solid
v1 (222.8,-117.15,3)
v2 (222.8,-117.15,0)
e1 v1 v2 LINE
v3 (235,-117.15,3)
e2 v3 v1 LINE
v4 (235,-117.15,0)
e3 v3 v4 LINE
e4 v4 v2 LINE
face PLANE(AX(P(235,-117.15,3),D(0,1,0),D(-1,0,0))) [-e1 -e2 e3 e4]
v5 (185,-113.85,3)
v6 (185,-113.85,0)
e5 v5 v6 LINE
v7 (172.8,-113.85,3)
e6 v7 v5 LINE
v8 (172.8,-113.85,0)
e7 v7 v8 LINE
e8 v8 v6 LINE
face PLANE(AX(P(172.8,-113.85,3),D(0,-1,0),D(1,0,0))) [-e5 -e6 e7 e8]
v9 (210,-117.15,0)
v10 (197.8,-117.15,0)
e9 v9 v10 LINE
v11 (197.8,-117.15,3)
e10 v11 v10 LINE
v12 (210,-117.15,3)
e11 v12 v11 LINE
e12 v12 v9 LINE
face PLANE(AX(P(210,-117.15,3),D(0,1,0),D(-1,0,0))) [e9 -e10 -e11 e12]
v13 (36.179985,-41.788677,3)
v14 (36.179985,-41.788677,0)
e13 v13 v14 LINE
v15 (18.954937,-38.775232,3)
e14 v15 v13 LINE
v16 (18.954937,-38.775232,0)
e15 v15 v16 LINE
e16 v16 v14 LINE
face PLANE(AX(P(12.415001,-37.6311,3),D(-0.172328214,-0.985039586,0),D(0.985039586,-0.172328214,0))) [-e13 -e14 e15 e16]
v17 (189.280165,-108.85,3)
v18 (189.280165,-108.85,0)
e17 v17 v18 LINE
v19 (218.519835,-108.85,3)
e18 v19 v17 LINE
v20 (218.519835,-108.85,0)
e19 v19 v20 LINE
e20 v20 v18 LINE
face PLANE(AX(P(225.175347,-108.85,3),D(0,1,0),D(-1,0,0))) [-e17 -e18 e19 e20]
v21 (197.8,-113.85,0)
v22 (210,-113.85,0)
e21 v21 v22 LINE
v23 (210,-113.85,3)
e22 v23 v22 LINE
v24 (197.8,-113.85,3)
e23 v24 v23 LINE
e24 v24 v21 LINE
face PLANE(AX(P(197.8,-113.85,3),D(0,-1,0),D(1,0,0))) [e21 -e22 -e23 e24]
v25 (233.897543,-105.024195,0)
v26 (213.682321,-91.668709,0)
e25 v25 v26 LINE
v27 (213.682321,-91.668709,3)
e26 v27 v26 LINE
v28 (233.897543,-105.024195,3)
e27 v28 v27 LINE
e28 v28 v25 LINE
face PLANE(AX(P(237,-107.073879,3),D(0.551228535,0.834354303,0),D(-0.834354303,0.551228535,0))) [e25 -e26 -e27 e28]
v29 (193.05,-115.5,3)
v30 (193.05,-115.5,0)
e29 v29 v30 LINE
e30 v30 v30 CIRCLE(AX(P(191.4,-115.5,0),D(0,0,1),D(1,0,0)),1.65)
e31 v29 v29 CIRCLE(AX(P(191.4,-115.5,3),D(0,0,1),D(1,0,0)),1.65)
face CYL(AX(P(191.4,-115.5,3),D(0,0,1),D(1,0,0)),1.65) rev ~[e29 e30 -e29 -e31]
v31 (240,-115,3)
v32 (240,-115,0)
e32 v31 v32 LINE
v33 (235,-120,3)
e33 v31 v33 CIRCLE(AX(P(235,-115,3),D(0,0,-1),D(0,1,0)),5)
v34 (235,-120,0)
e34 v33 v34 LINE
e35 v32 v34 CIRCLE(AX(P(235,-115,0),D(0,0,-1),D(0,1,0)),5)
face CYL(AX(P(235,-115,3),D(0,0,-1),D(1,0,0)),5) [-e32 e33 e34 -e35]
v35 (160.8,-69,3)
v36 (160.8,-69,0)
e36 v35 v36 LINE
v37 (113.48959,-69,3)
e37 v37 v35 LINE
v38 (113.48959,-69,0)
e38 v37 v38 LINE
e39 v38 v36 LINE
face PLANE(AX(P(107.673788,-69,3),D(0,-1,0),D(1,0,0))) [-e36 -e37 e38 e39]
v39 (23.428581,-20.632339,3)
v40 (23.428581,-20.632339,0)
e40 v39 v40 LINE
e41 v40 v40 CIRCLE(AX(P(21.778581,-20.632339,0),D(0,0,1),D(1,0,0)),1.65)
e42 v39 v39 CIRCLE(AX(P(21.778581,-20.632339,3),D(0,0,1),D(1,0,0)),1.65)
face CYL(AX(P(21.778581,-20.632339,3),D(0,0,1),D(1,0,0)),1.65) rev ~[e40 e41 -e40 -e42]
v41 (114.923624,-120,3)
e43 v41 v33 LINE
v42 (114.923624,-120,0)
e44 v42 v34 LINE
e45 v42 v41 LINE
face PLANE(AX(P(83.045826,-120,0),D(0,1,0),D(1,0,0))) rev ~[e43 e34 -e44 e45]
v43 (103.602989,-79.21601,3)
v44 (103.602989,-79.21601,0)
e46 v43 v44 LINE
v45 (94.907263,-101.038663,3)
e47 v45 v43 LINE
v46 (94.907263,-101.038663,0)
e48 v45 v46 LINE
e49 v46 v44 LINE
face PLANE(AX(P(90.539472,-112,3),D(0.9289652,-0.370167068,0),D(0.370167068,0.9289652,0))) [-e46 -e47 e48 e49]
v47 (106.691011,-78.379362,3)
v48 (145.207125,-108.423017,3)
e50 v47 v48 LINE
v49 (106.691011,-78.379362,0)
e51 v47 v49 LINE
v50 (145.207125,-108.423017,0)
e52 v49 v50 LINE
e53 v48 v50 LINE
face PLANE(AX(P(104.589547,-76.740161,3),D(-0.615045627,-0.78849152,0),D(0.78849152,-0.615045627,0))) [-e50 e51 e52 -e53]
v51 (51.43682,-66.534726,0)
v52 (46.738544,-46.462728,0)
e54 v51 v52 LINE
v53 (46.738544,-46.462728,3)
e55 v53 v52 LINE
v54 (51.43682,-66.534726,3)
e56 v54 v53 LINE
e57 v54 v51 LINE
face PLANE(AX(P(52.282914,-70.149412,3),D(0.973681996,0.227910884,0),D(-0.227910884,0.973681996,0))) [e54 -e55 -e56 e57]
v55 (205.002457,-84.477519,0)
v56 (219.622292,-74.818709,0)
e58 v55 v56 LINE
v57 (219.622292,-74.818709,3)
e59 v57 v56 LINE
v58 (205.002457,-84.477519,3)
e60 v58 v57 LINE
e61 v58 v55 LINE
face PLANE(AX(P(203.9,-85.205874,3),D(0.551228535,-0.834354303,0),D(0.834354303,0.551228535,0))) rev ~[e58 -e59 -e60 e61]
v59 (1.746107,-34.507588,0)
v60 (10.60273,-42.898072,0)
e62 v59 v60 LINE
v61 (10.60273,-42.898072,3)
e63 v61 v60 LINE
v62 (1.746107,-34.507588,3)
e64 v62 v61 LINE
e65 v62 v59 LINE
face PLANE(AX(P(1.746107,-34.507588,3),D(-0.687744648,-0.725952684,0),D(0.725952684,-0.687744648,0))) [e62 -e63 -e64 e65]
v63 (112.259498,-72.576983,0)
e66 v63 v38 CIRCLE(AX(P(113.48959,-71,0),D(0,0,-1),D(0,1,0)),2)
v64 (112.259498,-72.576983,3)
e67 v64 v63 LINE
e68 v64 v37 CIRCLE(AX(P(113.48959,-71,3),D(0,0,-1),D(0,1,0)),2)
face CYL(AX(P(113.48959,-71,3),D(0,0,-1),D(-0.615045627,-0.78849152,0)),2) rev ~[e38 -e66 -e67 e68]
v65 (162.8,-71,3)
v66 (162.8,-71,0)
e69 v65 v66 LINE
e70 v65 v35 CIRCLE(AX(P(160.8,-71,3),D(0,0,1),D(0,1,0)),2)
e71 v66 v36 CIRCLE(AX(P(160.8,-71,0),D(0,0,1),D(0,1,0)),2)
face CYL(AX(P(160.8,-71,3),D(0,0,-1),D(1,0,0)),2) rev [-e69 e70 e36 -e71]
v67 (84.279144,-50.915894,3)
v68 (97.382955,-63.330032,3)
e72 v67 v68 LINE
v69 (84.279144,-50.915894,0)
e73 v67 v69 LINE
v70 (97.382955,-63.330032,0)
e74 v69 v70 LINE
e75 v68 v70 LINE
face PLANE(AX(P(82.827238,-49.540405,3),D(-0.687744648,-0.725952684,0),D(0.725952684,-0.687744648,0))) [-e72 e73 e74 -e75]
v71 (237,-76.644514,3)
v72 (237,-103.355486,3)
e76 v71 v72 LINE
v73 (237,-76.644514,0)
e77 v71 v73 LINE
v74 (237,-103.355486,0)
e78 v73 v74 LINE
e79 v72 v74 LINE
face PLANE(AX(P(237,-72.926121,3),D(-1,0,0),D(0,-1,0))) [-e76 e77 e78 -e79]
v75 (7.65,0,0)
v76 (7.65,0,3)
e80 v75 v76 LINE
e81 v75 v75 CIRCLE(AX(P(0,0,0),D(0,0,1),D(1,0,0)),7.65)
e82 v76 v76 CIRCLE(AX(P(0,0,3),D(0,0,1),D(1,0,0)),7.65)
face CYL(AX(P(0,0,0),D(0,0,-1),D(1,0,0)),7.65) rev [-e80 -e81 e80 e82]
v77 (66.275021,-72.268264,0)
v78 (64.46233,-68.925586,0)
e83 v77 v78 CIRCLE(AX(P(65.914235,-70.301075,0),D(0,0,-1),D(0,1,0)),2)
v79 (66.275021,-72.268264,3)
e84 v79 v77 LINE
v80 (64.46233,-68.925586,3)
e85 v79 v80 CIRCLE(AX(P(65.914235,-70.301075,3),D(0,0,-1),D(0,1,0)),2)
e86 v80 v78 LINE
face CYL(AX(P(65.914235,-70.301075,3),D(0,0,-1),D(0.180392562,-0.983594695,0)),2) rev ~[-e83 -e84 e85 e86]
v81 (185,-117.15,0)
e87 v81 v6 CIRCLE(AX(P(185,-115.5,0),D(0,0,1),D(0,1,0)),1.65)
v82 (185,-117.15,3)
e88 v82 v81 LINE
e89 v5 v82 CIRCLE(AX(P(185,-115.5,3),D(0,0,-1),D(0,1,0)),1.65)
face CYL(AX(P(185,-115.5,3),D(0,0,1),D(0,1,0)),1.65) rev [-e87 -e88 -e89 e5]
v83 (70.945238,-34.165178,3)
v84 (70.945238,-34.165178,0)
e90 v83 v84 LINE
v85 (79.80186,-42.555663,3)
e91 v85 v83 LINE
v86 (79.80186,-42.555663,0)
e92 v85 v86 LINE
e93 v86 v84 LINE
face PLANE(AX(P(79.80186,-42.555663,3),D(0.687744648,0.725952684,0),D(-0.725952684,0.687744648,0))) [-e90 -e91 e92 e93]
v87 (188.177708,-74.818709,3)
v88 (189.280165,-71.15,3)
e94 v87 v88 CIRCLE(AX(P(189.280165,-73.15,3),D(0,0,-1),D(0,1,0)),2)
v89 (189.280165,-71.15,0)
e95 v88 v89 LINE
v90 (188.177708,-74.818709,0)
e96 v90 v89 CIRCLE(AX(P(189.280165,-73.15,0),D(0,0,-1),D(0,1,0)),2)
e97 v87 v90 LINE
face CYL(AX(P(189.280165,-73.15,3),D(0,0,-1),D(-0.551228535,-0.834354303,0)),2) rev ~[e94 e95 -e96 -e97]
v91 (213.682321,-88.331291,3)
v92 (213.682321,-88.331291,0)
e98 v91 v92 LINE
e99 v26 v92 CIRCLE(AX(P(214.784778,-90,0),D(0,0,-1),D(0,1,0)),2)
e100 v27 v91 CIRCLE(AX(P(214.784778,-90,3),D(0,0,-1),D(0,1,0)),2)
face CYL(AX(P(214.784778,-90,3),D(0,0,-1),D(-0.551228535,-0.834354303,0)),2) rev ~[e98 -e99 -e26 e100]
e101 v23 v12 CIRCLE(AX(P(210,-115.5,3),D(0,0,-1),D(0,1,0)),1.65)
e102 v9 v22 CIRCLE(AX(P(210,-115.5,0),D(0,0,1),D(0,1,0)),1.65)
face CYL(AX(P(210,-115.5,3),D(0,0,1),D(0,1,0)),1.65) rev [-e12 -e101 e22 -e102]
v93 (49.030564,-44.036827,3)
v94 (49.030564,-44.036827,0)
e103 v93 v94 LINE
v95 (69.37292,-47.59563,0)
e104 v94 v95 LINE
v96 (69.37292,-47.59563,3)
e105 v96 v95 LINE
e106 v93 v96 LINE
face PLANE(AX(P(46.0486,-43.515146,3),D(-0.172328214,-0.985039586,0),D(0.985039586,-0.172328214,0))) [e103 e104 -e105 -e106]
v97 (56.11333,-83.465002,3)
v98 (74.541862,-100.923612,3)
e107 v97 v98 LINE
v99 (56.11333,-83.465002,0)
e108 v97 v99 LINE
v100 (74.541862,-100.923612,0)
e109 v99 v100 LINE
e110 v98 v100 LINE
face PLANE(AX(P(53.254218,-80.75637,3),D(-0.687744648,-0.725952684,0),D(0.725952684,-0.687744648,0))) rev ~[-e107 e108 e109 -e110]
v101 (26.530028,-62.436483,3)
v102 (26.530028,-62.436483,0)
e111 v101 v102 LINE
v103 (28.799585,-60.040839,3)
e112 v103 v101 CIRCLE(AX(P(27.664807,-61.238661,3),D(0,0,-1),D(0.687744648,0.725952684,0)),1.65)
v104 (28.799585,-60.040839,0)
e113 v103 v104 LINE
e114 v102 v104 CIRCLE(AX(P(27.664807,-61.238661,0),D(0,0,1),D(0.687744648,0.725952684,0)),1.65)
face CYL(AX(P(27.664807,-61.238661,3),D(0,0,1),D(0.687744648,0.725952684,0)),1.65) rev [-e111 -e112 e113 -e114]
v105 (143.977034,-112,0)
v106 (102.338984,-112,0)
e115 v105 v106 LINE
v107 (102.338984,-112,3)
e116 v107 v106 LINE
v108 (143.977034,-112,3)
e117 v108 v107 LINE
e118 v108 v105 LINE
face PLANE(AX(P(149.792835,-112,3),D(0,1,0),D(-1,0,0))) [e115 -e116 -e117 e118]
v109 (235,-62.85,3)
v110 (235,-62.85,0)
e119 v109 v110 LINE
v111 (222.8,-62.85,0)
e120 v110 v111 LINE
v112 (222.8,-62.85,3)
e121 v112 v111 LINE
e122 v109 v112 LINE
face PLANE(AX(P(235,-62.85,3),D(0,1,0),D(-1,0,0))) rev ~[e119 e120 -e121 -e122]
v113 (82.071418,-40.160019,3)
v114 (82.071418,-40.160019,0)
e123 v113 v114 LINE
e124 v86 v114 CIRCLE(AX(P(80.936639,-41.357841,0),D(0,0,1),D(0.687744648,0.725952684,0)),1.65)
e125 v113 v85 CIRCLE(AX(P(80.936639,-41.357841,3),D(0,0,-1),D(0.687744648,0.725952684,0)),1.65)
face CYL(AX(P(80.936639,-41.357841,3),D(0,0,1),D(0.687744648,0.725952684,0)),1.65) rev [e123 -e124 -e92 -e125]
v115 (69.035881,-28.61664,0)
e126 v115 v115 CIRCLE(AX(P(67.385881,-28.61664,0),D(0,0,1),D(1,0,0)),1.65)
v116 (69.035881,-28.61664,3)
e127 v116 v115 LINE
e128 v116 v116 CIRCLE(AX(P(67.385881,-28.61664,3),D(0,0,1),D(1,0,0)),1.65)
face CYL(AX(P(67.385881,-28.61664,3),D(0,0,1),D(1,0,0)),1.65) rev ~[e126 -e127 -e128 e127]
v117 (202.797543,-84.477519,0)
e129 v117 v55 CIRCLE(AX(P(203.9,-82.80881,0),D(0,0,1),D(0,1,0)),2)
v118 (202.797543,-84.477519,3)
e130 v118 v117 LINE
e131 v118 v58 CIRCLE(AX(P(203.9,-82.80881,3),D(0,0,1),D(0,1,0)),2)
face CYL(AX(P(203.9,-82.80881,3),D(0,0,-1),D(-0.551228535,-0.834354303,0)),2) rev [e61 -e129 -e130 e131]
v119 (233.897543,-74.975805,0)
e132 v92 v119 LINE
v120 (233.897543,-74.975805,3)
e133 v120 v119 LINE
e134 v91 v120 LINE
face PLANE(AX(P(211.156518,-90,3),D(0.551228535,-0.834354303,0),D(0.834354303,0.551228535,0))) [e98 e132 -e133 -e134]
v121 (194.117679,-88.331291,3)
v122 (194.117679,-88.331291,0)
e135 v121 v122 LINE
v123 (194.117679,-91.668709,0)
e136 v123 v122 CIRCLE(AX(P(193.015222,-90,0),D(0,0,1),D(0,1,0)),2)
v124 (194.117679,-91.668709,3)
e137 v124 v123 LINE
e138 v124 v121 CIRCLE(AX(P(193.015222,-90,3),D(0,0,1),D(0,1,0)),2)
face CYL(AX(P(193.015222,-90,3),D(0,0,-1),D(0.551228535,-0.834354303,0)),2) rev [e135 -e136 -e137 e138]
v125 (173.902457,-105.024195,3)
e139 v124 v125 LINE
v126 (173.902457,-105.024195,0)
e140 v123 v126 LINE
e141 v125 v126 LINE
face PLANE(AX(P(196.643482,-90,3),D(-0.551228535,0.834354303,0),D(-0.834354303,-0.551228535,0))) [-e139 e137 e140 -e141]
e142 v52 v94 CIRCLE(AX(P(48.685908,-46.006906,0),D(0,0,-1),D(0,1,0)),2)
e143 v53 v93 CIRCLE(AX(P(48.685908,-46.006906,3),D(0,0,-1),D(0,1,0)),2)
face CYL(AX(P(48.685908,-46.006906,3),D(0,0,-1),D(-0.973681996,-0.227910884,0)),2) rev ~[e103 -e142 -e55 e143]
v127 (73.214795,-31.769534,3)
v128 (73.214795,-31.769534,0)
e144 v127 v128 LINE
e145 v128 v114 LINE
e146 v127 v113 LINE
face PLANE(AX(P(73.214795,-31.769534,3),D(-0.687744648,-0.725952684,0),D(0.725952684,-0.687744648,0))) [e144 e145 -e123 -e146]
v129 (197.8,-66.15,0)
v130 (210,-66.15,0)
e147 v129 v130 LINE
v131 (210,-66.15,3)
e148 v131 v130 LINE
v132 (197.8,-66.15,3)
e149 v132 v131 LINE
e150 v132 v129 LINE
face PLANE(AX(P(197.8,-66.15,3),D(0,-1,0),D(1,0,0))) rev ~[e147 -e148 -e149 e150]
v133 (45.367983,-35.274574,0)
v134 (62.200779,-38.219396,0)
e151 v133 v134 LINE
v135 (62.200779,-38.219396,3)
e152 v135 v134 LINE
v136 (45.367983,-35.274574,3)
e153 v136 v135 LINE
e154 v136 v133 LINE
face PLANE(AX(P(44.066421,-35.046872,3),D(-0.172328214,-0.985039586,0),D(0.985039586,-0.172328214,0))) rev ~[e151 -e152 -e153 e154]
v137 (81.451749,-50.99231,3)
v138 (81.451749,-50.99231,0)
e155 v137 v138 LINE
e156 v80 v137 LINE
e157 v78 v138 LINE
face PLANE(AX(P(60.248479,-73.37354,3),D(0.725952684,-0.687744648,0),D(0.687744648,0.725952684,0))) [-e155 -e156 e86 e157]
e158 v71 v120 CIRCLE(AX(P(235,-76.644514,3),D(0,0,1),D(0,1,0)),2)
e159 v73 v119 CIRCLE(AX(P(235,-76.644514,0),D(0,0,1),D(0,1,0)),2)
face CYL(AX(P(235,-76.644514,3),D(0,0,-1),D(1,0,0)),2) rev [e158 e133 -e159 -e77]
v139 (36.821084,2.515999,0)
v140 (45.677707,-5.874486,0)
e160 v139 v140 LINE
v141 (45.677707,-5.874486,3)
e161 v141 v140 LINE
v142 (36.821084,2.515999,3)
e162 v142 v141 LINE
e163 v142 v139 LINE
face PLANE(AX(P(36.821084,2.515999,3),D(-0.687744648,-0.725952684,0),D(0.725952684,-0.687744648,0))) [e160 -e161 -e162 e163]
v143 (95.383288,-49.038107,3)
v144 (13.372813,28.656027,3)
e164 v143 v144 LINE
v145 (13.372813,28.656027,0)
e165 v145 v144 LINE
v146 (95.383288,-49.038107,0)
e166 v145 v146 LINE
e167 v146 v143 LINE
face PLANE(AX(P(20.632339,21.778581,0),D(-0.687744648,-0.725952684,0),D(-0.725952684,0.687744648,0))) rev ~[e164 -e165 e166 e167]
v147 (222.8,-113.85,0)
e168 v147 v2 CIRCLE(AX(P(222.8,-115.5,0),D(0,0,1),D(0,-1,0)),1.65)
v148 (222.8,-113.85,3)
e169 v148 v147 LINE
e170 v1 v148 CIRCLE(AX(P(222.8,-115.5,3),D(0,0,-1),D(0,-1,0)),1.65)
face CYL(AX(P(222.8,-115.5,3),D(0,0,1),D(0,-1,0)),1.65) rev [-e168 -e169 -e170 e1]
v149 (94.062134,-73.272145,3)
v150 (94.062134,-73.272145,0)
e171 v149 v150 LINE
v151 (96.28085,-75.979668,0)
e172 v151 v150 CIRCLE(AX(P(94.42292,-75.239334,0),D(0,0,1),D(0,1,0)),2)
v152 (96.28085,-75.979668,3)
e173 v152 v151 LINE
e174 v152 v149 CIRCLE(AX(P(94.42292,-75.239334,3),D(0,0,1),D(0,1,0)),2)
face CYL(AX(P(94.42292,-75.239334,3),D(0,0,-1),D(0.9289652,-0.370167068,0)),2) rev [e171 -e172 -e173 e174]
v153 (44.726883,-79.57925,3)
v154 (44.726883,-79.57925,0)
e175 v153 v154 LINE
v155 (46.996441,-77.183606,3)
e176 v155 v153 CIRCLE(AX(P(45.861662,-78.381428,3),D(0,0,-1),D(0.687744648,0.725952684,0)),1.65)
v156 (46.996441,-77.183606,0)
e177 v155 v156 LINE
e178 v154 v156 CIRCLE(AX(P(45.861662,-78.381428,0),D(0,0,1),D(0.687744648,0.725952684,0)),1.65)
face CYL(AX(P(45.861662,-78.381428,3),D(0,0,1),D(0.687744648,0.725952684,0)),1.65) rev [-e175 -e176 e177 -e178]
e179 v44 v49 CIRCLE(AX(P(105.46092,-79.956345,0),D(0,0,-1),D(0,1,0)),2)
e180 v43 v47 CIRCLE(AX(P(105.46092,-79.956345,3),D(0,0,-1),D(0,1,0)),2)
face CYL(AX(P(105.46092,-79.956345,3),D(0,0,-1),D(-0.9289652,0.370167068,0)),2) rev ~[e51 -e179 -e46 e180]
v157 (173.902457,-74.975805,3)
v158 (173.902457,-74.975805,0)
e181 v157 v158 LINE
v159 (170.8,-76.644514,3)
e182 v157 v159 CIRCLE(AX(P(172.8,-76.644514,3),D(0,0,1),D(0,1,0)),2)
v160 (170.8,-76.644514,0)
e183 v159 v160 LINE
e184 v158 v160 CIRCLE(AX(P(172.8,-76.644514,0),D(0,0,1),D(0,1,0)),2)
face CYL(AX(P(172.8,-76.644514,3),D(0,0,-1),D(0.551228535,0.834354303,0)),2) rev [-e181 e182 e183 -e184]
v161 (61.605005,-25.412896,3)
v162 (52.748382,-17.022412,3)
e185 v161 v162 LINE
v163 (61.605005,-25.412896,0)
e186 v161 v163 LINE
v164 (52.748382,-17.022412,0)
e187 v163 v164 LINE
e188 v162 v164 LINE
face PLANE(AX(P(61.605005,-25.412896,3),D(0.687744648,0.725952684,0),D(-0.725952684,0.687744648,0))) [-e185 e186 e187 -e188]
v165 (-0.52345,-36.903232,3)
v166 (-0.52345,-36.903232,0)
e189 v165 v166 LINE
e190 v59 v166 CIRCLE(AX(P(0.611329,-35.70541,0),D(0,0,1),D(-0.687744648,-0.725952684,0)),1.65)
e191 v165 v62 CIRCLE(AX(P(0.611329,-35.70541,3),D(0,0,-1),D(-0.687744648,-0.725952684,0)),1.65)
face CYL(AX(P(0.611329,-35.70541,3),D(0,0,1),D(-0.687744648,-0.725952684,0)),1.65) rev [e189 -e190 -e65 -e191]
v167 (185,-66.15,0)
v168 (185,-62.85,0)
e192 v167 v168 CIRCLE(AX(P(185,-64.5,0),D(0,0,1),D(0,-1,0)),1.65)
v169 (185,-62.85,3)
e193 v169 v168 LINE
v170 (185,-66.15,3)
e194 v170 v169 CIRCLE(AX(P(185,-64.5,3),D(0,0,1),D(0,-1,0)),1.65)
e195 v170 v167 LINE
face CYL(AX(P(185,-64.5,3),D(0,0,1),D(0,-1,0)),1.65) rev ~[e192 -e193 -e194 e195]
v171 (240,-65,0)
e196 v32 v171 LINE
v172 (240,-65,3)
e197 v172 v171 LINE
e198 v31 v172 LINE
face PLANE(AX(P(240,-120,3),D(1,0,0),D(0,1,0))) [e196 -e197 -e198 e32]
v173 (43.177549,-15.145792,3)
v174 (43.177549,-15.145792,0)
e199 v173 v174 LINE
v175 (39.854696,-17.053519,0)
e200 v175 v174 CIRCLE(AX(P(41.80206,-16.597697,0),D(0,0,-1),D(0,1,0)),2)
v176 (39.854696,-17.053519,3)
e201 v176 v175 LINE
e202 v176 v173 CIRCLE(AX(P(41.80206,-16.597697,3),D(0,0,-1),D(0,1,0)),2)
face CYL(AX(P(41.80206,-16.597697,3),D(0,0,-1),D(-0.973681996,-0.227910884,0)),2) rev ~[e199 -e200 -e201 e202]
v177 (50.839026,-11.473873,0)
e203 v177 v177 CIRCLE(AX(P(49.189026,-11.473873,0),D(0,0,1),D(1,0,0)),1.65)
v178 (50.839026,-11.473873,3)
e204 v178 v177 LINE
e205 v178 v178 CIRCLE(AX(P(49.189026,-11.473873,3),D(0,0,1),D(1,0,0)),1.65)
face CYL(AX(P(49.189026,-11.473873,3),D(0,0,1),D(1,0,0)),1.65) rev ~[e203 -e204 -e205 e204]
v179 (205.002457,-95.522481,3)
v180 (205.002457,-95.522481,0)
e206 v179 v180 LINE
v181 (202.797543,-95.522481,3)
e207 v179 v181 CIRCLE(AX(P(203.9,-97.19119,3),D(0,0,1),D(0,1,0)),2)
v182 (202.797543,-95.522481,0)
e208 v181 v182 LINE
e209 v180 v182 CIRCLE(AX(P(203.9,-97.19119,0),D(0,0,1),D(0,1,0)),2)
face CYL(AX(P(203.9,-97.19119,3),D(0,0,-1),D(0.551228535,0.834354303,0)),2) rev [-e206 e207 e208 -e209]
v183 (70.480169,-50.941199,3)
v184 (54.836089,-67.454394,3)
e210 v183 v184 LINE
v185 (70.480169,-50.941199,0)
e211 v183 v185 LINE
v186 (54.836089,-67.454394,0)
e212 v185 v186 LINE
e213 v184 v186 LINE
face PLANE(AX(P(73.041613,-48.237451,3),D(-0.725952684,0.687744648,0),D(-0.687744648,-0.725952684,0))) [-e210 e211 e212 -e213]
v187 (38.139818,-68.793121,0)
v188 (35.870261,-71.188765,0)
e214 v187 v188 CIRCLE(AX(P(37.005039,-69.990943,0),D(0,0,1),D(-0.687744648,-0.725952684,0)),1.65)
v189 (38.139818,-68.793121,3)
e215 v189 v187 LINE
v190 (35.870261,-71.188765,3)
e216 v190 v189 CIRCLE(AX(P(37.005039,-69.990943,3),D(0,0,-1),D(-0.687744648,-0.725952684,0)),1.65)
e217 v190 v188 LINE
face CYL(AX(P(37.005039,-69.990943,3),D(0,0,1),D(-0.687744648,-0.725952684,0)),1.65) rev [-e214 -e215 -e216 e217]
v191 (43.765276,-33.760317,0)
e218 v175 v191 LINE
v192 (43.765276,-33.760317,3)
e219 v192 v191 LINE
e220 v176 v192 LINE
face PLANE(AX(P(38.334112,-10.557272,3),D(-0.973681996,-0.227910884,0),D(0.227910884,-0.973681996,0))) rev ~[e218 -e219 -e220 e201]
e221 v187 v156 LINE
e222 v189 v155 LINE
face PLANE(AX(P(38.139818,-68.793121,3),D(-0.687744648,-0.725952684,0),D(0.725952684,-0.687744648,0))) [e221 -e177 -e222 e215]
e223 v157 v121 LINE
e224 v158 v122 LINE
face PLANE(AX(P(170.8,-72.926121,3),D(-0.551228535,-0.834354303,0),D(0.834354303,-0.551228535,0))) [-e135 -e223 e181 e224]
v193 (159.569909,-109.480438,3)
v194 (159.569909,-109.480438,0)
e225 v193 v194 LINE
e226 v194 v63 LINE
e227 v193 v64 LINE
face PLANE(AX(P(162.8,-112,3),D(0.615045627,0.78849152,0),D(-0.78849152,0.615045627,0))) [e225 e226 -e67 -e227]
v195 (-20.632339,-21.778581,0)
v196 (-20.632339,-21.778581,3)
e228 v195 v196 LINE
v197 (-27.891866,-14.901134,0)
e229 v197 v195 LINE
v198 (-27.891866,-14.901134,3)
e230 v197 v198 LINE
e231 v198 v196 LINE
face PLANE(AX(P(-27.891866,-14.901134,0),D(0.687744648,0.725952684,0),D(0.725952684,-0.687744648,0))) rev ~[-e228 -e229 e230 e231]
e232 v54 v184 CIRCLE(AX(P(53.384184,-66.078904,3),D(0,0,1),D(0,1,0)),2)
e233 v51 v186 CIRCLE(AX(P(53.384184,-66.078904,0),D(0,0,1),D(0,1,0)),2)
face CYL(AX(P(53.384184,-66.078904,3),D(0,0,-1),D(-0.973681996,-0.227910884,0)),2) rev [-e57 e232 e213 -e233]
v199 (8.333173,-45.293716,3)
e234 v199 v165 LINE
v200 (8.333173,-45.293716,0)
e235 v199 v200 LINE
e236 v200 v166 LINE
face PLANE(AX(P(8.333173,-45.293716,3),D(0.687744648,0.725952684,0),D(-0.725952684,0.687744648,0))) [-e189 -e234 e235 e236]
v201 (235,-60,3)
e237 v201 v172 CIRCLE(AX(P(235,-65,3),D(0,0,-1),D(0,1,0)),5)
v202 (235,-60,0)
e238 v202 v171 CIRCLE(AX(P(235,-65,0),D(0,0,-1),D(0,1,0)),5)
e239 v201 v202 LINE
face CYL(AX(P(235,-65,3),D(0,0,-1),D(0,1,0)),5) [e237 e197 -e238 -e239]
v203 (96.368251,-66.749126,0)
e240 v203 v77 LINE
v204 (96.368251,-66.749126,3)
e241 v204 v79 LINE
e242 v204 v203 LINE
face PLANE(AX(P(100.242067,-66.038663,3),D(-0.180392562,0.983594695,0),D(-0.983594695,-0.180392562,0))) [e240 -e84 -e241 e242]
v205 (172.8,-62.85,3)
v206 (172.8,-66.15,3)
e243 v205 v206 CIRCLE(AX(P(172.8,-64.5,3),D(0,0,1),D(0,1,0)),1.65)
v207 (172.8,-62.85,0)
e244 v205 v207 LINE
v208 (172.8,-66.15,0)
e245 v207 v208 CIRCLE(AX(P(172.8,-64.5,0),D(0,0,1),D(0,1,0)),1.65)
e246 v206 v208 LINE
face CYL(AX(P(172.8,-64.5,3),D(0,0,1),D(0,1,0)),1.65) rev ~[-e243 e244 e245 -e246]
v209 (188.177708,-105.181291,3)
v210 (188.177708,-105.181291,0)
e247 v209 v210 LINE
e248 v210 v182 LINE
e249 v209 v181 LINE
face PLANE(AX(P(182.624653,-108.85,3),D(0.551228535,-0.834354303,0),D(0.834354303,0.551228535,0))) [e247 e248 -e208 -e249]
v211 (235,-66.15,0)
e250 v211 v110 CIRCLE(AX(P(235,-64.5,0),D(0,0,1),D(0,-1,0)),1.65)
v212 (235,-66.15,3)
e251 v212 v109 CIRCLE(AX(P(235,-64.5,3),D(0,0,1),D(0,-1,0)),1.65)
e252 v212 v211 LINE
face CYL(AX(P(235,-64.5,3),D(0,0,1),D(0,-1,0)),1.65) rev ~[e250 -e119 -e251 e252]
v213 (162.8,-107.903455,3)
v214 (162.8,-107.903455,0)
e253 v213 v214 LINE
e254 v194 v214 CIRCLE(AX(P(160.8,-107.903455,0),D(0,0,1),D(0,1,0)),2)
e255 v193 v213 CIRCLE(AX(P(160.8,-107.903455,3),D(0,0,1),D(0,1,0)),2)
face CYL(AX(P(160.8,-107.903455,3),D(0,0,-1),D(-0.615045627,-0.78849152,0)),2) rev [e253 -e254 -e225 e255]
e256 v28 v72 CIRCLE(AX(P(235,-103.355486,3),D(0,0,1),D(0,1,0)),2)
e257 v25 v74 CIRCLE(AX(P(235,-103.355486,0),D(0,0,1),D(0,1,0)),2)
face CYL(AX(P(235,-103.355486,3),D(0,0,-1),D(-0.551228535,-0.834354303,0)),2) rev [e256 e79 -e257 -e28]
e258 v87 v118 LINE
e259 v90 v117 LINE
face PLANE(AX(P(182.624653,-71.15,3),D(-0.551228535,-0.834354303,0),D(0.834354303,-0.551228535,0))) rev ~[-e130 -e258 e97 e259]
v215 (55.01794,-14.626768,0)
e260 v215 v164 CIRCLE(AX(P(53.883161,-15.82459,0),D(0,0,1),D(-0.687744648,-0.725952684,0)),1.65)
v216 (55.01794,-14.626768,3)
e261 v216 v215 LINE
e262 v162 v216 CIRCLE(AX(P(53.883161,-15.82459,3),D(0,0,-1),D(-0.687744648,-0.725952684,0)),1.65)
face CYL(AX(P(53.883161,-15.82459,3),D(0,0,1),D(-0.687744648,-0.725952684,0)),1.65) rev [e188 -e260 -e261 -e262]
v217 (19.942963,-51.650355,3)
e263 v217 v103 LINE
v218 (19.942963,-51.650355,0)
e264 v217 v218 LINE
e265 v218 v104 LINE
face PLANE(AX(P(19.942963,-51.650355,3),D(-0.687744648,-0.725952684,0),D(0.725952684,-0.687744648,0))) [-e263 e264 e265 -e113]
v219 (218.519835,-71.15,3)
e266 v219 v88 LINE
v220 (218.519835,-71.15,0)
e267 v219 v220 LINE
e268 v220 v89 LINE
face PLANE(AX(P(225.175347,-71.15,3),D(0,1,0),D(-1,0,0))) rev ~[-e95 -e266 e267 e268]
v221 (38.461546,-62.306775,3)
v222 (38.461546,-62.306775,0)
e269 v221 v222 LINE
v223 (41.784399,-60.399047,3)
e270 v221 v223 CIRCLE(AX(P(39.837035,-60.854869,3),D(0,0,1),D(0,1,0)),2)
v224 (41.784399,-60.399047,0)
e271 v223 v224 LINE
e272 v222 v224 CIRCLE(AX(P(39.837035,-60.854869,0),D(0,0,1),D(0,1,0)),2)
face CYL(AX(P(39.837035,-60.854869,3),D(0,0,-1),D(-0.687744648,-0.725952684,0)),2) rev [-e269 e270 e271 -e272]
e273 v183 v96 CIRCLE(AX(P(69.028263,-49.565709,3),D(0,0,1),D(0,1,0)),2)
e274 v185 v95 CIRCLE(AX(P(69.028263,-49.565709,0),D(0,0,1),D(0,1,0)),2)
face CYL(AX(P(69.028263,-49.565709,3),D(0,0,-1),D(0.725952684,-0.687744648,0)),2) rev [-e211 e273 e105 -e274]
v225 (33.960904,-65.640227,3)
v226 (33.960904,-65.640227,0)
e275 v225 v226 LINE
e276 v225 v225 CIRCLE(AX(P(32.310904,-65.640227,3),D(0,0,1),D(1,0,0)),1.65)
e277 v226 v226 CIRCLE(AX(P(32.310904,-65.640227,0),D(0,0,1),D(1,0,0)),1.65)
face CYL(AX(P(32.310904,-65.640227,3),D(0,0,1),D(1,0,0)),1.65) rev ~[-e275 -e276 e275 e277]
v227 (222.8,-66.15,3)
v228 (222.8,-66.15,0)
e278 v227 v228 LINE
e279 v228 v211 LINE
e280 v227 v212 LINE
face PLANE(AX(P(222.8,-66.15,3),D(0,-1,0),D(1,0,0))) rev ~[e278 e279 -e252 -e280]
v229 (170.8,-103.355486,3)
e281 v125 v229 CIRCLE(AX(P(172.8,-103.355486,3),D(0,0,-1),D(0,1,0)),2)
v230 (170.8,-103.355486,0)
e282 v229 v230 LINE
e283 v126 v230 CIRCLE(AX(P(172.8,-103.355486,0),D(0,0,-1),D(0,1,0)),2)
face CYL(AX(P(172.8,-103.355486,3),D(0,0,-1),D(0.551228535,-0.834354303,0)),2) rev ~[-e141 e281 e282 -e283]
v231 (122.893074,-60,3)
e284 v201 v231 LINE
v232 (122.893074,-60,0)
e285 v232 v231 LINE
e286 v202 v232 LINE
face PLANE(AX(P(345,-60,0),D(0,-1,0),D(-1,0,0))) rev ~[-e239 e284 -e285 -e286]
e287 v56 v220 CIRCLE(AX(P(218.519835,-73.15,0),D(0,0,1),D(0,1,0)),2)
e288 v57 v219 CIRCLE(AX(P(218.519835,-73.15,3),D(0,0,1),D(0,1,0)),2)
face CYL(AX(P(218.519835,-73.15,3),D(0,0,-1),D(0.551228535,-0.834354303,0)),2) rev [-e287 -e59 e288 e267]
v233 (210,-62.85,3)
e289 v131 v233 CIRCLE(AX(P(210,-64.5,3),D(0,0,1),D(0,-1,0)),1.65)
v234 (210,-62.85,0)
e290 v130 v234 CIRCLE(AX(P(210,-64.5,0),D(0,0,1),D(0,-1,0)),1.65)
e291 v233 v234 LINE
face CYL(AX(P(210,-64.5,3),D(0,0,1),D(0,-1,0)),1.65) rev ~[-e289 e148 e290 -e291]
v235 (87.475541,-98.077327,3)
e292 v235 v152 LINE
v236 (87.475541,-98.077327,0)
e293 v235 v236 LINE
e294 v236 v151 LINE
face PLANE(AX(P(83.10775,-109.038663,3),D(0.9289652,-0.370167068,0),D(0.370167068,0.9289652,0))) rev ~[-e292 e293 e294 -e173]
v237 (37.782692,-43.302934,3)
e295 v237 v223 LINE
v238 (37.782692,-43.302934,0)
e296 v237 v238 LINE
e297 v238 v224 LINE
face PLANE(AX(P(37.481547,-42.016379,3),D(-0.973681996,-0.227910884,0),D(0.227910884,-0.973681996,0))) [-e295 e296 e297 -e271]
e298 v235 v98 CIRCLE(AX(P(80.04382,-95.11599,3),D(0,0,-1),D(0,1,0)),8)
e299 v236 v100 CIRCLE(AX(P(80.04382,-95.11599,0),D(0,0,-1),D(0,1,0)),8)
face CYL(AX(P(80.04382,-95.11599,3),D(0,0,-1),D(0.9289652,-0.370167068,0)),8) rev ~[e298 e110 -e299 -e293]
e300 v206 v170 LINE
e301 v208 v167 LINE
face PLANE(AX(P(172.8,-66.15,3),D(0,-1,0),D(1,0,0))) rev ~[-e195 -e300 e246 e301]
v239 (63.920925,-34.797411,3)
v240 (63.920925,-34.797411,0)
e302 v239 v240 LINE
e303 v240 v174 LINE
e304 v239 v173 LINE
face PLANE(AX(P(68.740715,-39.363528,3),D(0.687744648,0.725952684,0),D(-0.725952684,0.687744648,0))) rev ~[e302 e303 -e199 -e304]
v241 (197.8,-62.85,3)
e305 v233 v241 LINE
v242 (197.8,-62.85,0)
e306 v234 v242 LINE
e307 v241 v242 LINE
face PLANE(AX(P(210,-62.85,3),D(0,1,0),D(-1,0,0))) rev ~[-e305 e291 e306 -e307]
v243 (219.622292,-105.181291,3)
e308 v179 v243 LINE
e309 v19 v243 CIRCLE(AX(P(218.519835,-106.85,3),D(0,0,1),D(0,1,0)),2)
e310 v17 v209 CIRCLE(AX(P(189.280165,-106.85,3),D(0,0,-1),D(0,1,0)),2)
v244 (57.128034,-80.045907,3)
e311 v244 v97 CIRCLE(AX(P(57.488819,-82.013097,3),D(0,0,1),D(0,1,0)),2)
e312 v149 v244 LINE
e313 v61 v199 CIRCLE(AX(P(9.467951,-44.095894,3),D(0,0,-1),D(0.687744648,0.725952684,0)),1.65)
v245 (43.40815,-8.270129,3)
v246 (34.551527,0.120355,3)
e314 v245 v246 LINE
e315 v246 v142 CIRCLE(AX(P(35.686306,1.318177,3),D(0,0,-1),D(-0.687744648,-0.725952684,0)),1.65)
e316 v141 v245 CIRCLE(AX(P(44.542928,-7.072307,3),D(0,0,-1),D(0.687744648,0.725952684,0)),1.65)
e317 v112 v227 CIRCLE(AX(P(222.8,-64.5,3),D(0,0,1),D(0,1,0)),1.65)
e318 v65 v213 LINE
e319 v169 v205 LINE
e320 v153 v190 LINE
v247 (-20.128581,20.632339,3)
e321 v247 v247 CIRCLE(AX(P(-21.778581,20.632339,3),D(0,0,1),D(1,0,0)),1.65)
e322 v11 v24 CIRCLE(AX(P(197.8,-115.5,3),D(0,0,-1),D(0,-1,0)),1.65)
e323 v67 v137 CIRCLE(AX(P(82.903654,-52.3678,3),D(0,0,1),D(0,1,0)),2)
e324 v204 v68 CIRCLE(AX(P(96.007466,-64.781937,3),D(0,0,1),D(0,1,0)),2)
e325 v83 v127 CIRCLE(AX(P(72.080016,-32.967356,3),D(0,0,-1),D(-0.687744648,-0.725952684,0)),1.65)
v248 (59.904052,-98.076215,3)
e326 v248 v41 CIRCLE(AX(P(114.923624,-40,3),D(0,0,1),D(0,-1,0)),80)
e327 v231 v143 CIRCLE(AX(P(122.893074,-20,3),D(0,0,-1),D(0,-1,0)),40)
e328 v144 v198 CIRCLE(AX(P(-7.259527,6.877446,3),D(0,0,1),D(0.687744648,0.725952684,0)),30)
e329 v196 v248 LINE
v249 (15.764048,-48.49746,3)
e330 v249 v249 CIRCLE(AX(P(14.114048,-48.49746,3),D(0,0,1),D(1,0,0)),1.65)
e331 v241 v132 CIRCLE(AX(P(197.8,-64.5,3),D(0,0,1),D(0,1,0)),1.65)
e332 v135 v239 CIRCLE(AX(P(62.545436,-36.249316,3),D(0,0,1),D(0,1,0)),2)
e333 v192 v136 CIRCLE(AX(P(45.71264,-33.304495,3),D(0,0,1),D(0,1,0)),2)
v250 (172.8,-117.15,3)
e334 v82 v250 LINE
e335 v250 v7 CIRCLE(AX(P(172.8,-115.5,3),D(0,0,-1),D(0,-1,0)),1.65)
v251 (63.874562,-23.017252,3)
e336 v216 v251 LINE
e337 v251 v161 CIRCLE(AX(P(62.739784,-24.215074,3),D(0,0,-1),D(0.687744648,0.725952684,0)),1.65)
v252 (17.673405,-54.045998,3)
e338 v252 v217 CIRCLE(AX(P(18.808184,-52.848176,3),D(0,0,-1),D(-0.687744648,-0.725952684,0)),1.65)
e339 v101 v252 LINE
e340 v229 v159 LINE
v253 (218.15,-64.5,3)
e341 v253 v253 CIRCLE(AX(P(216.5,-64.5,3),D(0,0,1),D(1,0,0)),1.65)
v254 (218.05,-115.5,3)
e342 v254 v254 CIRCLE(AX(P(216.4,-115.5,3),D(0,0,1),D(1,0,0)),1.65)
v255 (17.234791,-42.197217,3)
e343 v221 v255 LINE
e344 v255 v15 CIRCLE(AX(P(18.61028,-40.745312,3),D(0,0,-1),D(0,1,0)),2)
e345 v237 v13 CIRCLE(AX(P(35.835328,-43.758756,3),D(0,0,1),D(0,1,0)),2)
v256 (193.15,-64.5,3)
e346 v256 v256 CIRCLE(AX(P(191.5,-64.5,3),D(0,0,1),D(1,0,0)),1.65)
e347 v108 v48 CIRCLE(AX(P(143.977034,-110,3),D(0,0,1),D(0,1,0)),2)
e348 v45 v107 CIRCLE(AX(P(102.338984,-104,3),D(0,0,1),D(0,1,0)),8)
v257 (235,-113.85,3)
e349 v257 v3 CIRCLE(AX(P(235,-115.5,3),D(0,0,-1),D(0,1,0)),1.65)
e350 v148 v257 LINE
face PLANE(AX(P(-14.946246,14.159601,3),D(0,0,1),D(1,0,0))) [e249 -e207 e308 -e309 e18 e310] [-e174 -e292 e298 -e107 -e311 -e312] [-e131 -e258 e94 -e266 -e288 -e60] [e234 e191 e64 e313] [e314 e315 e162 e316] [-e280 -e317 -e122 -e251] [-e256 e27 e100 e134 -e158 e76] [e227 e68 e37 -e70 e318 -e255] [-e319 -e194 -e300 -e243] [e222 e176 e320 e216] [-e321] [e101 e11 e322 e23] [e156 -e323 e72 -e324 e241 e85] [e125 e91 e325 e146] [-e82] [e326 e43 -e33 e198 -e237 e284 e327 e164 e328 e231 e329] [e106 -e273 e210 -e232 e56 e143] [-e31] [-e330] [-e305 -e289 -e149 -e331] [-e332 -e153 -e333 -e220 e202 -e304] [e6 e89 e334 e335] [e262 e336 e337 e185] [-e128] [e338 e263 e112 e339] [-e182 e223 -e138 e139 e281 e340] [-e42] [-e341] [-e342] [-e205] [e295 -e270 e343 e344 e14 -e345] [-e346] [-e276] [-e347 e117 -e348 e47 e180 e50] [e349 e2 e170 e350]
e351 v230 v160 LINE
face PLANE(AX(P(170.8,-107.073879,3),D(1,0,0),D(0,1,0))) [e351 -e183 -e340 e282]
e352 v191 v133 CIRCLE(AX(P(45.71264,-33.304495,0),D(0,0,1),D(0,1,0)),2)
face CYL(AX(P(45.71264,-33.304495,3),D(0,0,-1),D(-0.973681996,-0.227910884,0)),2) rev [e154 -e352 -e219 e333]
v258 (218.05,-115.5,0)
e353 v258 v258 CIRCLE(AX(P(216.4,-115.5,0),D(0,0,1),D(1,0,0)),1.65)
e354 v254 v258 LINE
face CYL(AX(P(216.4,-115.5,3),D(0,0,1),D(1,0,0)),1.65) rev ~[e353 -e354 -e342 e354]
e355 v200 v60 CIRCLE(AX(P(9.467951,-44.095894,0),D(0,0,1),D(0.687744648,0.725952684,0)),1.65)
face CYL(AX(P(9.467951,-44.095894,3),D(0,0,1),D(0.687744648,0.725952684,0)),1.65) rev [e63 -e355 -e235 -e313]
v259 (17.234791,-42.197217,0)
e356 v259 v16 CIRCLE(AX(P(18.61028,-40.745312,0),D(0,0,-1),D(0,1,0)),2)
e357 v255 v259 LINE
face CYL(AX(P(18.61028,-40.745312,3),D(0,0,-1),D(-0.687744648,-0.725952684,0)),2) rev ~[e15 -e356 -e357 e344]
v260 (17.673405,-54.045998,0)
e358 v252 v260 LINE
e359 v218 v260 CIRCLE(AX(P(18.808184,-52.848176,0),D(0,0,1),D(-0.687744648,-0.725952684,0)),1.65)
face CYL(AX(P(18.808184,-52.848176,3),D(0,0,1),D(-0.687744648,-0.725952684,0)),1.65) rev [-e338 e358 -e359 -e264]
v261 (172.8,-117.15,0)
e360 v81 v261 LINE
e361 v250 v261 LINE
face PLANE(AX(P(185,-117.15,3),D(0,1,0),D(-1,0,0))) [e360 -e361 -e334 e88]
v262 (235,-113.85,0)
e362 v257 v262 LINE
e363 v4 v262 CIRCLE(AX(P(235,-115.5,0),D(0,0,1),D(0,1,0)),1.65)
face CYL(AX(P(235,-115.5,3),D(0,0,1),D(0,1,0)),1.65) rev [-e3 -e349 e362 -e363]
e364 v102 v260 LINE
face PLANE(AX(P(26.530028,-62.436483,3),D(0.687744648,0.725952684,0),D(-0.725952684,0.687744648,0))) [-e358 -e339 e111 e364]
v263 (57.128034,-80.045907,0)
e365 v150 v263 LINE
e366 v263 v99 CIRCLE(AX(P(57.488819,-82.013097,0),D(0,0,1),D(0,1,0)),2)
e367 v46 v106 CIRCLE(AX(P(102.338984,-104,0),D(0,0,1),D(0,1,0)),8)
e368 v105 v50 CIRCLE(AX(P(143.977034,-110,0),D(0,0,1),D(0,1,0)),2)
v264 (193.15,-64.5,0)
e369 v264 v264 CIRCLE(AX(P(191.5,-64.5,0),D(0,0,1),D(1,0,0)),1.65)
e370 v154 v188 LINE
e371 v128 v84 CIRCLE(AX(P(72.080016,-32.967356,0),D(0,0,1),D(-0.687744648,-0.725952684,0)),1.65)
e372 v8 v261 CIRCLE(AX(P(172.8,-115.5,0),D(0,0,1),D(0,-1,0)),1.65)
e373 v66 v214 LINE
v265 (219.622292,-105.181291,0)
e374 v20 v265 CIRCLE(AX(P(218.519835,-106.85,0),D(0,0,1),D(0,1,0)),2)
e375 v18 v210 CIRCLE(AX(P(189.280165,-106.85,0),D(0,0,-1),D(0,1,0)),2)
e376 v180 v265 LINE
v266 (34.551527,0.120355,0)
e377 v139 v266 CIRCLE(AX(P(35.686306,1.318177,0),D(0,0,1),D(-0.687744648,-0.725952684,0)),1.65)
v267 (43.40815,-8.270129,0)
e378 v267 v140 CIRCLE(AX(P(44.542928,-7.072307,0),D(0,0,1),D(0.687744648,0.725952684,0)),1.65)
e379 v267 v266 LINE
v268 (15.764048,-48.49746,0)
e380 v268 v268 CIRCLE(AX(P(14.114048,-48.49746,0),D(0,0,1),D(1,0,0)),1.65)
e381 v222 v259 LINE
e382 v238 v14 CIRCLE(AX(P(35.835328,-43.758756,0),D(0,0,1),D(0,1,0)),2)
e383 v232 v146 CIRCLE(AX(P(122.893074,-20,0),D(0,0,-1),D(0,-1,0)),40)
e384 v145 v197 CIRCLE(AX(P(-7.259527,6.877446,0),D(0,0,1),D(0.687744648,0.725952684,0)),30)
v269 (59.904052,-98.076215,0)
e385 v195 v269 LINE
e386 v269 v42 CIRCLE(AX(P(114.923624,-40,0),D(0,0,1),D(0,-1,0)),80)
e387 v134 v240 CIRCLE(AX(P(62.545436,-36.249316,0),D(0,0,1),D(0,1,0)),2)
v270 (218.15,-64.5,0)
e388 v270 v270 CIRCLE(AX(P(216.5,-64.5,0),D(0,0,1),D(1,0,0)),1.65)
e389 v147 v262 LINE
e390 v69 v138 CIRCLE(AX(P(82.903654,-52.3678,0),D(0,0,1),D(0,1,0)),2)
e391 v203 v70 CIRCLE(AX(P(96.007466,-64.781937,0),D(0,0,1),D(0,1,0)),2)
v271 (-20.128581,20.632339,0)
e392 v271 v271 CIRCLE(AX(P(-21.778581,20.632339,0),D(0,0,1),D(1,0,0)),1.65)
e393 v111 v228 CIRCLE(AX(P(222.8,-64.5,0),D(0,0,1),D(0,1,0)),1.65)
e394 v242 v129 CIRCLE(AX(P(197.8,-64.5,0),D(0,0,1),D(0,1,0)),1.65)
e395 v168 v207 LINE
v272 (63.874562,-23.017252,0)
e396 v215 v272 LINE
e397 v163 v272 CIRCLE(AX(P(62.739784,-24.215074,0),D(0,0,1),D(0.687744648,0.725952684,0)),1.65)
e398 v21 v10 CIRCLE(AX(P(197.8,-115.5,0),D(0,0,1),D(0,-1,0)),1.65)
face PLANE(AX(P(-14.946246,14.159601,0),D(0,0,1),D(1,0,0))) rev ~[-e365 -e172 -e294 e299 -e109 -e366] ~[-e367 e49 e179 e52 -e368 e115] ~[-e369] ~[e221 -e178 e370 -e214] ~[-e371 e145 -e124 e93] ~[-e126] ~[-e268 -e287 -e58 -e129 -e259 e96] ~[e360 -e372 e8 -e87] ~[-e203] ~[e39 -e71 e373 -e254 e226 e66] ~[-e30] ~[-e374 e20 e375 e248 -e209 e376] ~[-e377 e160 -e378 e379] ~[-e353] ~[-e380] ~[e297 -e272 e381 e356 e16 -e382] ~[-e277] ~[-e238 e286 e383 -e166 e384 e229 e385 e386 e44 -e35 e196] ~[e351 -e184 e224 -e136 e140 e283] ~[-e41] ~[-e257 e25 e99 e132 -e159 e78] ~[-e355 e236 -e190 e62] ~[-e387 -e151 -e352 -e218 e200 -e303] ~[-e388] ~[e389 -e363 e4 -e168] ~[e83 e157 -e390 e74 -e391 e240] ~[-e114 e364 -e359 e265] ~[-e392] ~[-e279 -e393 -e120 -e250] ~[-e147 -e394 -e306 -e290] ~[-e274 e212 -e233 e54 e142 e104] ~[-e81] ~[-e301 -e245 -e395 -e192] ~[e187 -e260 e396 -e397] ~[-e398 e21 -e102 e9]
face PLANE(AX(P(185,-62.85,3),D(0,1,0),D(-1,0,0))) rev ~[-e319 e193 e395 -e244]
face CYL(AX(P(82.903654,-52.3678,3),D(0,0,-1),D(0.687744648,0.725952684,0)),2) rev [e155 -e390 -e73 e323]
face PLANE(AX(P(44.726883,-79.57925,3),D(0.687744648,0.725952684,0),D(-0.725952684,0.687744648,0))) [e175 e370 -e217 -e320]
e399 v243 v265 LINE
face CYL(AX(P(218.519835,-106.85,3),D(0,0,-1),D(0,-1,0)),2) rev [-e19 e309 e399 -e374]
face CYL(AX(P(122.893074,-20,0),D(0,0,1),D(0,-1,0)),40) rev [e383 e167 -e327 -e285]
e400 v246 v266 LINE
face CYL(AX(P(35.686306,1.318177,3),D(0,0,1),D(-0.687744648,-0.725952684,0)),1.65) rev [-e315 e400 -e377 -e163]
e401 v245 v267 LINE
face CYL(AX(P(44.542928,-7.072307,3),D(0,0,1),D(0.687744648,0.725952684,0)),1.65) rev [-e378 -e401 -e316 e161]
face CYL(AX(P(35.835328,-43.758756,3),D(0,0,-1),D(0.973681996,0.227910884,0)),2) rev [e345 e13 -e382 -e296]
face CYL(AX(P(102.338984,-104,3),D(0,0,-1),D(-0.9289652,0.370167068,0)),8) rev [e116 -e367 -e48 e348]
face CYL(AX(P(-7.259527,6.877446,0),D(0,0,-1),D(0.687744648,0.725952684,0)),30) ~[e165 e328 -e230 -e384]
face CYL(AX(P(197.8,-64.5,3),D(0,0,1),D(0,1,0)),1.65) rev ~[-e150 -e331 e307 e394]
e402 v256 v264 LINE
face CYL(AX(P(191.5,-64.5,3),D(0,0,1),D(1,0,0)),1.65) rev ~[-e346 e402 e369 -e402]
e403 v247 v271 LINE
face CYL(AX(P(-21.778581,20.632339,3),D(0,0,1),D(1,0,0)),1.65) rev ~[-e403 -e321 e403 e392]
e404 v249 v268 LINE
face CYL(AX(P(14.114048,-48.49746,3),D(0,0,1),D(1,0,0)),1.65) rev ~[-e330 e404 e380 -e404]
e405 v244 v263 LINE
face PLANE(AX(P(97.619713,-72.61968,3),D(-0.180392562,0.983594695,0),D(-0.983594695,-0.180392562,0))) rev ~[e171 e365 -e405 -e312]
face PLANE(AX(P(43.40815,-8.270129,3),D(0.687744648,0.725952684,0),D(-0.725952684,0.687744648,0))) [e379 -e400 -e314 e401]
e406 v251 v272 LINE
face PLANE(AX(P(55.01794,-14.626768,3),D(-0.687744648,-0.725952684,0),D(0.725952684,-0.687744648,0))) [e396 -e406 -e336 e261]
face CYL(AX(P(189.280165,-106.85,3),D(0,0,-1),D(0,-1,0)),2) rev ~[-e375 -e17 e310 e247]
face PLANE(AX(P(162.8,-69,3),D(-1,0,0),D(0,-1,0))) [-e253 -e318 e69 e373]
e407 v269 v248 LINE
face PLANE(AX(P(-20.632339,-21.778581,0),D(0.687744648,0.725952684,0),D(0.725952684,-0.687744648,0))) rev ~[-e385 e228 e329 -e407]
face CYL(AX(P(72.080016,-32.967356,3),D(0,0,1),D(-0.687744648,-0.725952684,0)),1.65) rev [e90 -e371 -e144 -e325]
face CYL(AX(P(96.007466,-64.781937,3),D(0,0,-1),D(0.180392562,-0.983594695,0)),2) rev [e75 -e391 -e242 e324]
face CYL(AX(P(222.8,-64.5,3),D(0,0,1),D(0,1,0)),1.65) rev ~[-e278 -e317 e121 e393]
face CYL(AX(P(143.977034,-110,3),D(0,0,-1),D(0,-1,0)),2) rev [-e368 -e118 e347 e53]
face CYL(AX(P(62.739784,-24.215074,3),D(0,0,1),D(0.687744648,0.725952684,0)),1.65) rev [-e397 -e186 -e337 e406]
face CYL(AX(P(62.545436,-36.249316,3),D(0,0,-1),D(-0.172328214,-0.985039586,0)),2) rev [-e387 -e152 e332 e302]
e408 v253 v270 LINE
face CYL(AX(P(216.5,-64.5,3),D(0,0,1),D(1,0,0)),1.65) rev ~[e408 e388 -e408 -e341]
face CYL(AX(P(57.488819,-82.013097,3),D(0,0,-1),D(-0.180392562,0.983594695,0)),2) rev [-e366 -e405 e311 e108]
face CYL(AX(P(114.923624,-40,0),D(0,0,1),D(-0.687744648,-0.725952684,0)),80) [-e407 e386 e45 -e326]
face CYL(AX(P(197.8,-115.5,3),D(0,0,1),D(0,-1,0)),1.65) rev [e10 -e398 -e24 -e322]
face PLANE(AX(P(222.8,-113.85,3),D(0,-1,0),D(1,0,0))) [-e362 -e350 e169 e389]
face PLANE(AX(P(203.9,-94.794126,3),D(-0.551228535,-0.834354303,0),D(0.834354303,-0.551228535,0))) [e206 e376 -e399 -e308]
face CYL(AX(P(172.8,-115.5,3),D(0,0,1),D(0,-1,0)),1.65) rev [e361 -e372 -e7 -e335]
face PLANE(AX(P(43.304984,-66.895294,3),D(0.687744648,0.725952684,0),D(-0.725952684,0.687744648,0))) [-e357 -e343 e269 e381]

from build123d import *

# Parameters (mm, degrees)
SKETCH_1_R          = 7.65
EXTRUDE_1_DEPTH     = 3
SKETCH_2_R          = 5
CUT_EXTRUDE_1_DEPTH = 366.286189172
FILLET_1_R          = 20
SKETCH_3_R          = 1.65
CUT_EXTRUDE_2_DEPTH = 366.286189172
FILLET_2_R          = 40
FILLET_3_R          = 80
SKETCH_4_W          = 105
SKETCH_4_H          = 60
CUT_EXTRUDE_3_DEPTH = 366.286189172
FILLET_4_R          = 5
CUT_EXTRUDE_4_DEPTH = 269.344927286
FILLET_5_R          = 2
FILLET_6_R          = 8
EXTRUDE_START       = -3
EXTRUDE_2_DEPTH     = 3
SKETCH_7_R          = 1.65
CUT_EXTRUDE_5_DEPTH = 3


with BuildPart() as part:
    # 草图1 → 凸台-拉伸1 (new body)
    with BuildSketch(Plane.XY):
        with BuildLine():
            Line((106.954174428, -60), (20.632339437, 21.778580517))
            ThreePointArc((20.632339437, 21.778580517), (-21.778580517, 20.632339437), (-20.632339437, -21.778580517))
            Line((-20.632339437, -21.778580517), (83.045825572, -120))
            Line((83.045825572, -120), (345, -120))
            Line((345, -120), (345, -60))
            Line((345, -60), (106.954174428, -60))
        make_face()
        Circle(SKETCH_1_R, mode=Mode.SUBTRACT)
    extrude(amount=EXTRUDE_1_DEPTH)

    # 草图2 → 切除-拉伸1 (cut, through all)
    with BuildSketch(Plane.XY.offset(3)):
        with Locations((305, -90)):
            Circle(SKETCH_2_R)
        with Locations((278, -90)):
            Circle(SKETCH_2_R)
        with Locations((332, -90)):
            Circle(SKETCH_2_R)
    extrude(amount=-CUT_EXTRUDE_1_DEPTH, mode=Mode.SUBTRACT)

    # 圆角1
    fillet_1_edges = [part.edges().sort_by_distance(p)[0] for p in [
        (345, -60, 1.5),
        (345, -120, 1.5),
    ]]
    fillet(fillet_1_edges, radius=FILLET_1_R)

    # 草图3 → 切除-拉伸2 (cut, through all)
    with BuildSketch(Plane.XY.offset(3)):
        with Locations((216.4, -115.5)):
            Circle(SKETCH_3_R)
        with Locations((216.5, -64.5)):
            Circle(SKETCH_3_R)
        with Locations((191.5, -64.5)):
            Circle(SKETCH_3_R)
        with Locations((191.4, -115.5)):
            Circle(SKETCH_3_R)
        with Locations((14.114048497, -48.497460089)):
            Circle(SKETCH_3_R)
        with Locations((49.18902554, -11.473873209)):
            Circle(SKETCH_3_R)
        with Locations((67.385880926, -28.616640024)):
            Circle(SKETCH_3_R)
        with Locations((32.310903883, -65.640226903)):
            Circle(SKETCH_3_R)
        with BuildLine():
            Line((222.8, -113.85), (235, -113.85))
            ThreePointArc((235, -113.85), (236.65, -115.5), (235, -117.15))
            Line((235, -117.15), (222.8, -117.15))
            ThreePointArc((222.8, -117.15), (221.15, -115.5), (222.8, -113.85))
        make_face()
        with BuildLine():
            Line((222.8, -66.15), (235, -66.15))
            ThreePointArc((235, -66.15), (236.65, -64.5), (235, -62.85))
            Line((235, -62.85), (222.8, -62.85))
            ThreePointArc((222.8, -62.85), (221.15, -64.5), (222.8, -66.15))
        make_face()
        with BuildLine():
            Line((36.821084288, 2.51599917), (45.677707032, -5.874485534))
            ThreePointArc((45.677707032, -5.874485534), (45.740750291, -8.207086132), (43.408149694, -8.270129391))
            Line((43.408149694, -8.270129391), (34.55152695, 0.120355313))
            ThreePointArc((34.55152695, 0.120355313), (34.488483691, 2.452955911), (36.821084288, 2.51599917))
        make_face()
        with BuildLine():
            Line((19.942962631, -51.650354523), (28.799585375, -60.040839228))
            ThreePointArc((28.799585375, -60.040839228), (28.862628634, -62.373439825), (26.530028037, -62.436483085))
            Line((26.530028037, -62.436483085), (17.673405293, -54.04599838))
            ThreePointArc((17.673405293, -54.04599838), (17.610362034, -51.713397783), (19.942962631, -51.650354523))
        make_face()
        with BuildLine():
            Line((197.8, -113.85), (210, -113.85))
            ThreePointArc((210, -113.85), (211.65, -115.5), (210, -117.15))
            Line((210, -117.15), (197.8, -117.15))
            ThreePointArc((197.8, -117.15), (196.15, -115.5), (197.8, -113.85))
        make_face()
        with BuildLine():
            Line((197.8, -66.15), (210, -66.15))
            ThreePointArc((210, -66.15), (211.65, -64.5), (210, -62.85))
            Line((210, -62.85), (197.8, -62.85))
            ThreePointArc((197.8, -62.85), (196.15, -64.5), (197.8, -66.15))
        make_face()
        with BuildLine():
            Line((172.8, -113.85), (185, -113.85))
            ThreePointArc((185, -113.85), (186.65, -115.5), (185, -117.15))
            Line((185, -117.15), (172.8, -117.15))
            ThreePointArc((172.8, -117.15), (171.15, -115.5), (172.8, -113.85))
        make_face()
        with BuildLine():
            Line((172.8, -66.15), (185, -66.15))
            ThreePointArc((185, -66.15), (186.65, -64.5), (185, -62.85))
            Line((185, -62.85), (172.8, -62.85))
            ThreePointArc((172.8, -62.85), (171.15, -64.5), (172.8, -66.15))
        make_face()
        with BuildLine():
            Line((1.746107245, -34.507587709), (10.602729989, -42.898072413))
            ThreePointArc((10.602729989, -42.898072413), (10.665773248, -45.230673011), (8.333172651, -45.29371627))
            Line((8.333172651, -45.29371627), (-0.523450093, -36.903231566))
            ThreePointArc((-0.523450093, -36.903231566), (-0.586493353, -34.570630968), (1.746107245, -34.507587709))
        make_face()
        with BuildLine():
            Line((55.017939675, -14.626767644), (63.874562418, -23.017252349))
            ThreePointArc((63.874562418, -23.017252349), (63.937605678, -25.349852946), (61.60500508, -25.412896206))
            Line((61.60500508, -25.412896206), (52.748382337, -17.022411501))
            ThreePointArc((52.748382337, -17.022411501), (52.685339077, -14.689810904), (55.017939675, -14.626767644))
        make_face()
        with BuildLine():
            Line((38.139818017, -68.793121338), (46.996440761, -77.183606042))
            ThreePointArc((46.996440761, -77.183606042), (47.05948402, -79.51620664), (44.726883423, -79.579249899))
            Line((44.726883423, -79.579249899), (35.870260679, -71.188765195))
            ThreePointArc((35.870260679, -71.188765195), (35.80721742, -68.856164597), (38.139818017, -68.793121338))
        make_face()
        with BuildLine():
            Line((73.214795061, -31.769534459), (82.071417805, -40.160019163))
            ThreePointArc((82.071417805, -40.160019163), (82.134461064, -42.492619761), (79.801860466, -42.55566302))
            Line((79.801860466, -42.55566302), (70.945237723, -34.165178315))
            ThreePointArc((70.945237723, -34.165178315), (70.882194463, -31.832577718), (73.214795061, -31.769534459))
        make_face()
    extrude(amount=-CUT_EXTRUDE_2_DEPTH, mode=Mode.SUBTRACT)

    # 圆角2
    fillet_2_edges = [part.edges().sort_by_distance(p)[0] for p in [
        (106.954174428, -60, 1.5),
    ]]
    fillet(fillet_2_edges, radius=FILLET_2_R)

    # 圆角3
    fillet_3_edges = [part.edges().sort_by_distance(p)[0] for p in [
        (83.045825572, -120, 1.5),
    ]]
    fillet(fillet_3_edges, radius=FILLET_3_R)

    # 草图4 → 切除-拉伸3 (cut, through all)
    with BuildSketch(Plane.XY.offset(3)):
        with Locations((292.5, -90)):
            Rectangle(SKETCH_4_W, SKETCH_4_H)
    extrude(amount=-CUT_EXTRUDE_3_DEPTH, mode=Mode.SUBTRACT)

    # 圆角4
    fillet_4_edges = [part.edges().sort_by_distance(p)[0] for p in [
        (240, -120, 1.5),
        (240, -60, 1.5),
    ]]
    fillet(fillet_4_edges, radius=FILLET_4_R)

    # 草图5 → 切除-拉伸4 (cut, through all)
    with BuildSketch(Plane.XY.offset(3)):
        Polygon((170.8, -107.073879127), (170.8, -72.926120873), (196.643481613, -90), align=None)
        Polygon((107.673788457, -69), (162.8, -69), (162.8, -112), align=None)
        Polygon((182.624652559, -71.15), (203.9, -85.205873586), (225.175347441, -71.15), align=None)
        Polygon((211.156518387, -90), (237, -72.926120873), (237, -107.073879127), align=None)
        Polygon((182.624652559, -108.85), (203.9, -94.794126414), (225.175347441, -108.85), align=None)
        Polygon((104.589547434, -76.740160666), (149.792834925, -112), (90.539471777, -112), align=None)
        Polygon((83.107750181, -109.038663458), (97.619712786, -72.619680215), (53.254218477, -80.756370264), align=None)
        Polygon((60.248478543, -73.373540194), (82.827238337, -49.540404857), (100.242066861, -66.038663458), align=None)
        Polygon((12.415001138, -37.631100304), (37.481546744, -42.016378913), (43.304983555, -66.895294173), align=None)
        Polygon((38.334111759, -10.557272346), (44.066420967, -35.046871816), (68.740714664, -39.36352773), align=None)
        Polygon((46.048599826, -43.515146043), (73.041613266, -48.237451473), (52.282913666, -70.149412161), align=None)
    extrude(amount=-CUT_EXTRUDE_4_DEPTH, mode=Mode.SUBTRACT)

    # 圆角5
    fillet_5_edges = [part.edges().sort_by_distance(p)[0] for p in [
        (53.254218477, -80.756370264, 1.5),
        (97.619712786, -72.619680215, 1.5),
        (104.589547434, -76.740160666, 1.5),
        (149.792834925, -112, 1.5),
        (100.242066861, -66.038663458, 1.5),
        (60.248478543, -73.373540194, 1.5),
        (82.827238337, -49.540404857, 1.5),
        (43.304983555, -66.895294173, 1.5),
        (12.415001138, -37.631100304, 1.5),
        (37.481546744, -42.016378913, 1.5),
        (237, -107.073879127, 1.5),
        (211.156518387, -90, 1.5),
        (237, -72.926120873, 1.5),
        (182.624652559, -71.15, 1.5),
        (225.175347441, -71.15, 1.5),
        (203.9, -85.205873586, 1.5),
        (225.175347441, -108.85, 1.5),
        (182.624652559, -108.85, 1.5),
        (203.9, -94.794126414, 1.5),
        (162.8, -112, 1.5),
        (107.673788457, -69, 1.5),
        (162.8, -69, 1.5),
        (38.334111759, -10.557272346, 1.5),
        (68.740714664, -39.36352773, 1.5),
        (44.066420967, -35.046871816, 1.5),
        (52.282913666, -70.149412161, 1.5),
        (46.048599826, -43.515146043, 1.5),
        (73.041613266, -48.237451473, 1.5),
        (196.643481613, -90, 1.5),
        (170.8, -107.073879127, 1.5),
        (170.8, -72.926120873, 1.5),
    ]]
    fillet(fillet_5_edges, radius=FILLET_5_R)

    # 圆角6
    fillet_6_edges = [part.edges().sort_by_distance(p)[0] for p in [
        (83.107750181, -109.038663458, 1.5),
        (90.539471777, -112, 1.5),
    ]]
    fillet(fillet_6_edges, radius=FILLET_6_R)

    # 草图6 → 凸台-拉伸2 (add)
    with BuildSketch(Plane.XY.offset(3).offset(EXTRUDE_START)):
        with BuildLine():
            Line((-27.891866276, -14.901134038), (-20.632339437, -21.778580517))
            ThreePointArc((-20.632339437, -21.778580517), (-21.778580517, 20.632339437), (20.632339437, 21.778580517))
            Line((20.632339437, 21.778580517), (13.372812598, 28.656026996))
            ThreePointArc((13.372812598, 28.656026996), (-29.038107356, 27.509785916), (-27.891866276, -14.901134038))
        make_face()
    extrude(amount=EXTRUDE_2_DEPTH)

    # 草图7 → 切除-拉伸5 (cut)
    with BuildSketch(Plane.XY.offset(3)):
        with Locations((-21.778580517, 20.632339437)):
            Circle(SKETCH_7_R)
        with Locations((21.778580517, -20.632339437)):
            Circle(SKETCH_7_R)
    extrude(amount=-CUT_EXTRUDE_5_DEPTH, mode=Mode.SUBTRACT)


solid = part.part
